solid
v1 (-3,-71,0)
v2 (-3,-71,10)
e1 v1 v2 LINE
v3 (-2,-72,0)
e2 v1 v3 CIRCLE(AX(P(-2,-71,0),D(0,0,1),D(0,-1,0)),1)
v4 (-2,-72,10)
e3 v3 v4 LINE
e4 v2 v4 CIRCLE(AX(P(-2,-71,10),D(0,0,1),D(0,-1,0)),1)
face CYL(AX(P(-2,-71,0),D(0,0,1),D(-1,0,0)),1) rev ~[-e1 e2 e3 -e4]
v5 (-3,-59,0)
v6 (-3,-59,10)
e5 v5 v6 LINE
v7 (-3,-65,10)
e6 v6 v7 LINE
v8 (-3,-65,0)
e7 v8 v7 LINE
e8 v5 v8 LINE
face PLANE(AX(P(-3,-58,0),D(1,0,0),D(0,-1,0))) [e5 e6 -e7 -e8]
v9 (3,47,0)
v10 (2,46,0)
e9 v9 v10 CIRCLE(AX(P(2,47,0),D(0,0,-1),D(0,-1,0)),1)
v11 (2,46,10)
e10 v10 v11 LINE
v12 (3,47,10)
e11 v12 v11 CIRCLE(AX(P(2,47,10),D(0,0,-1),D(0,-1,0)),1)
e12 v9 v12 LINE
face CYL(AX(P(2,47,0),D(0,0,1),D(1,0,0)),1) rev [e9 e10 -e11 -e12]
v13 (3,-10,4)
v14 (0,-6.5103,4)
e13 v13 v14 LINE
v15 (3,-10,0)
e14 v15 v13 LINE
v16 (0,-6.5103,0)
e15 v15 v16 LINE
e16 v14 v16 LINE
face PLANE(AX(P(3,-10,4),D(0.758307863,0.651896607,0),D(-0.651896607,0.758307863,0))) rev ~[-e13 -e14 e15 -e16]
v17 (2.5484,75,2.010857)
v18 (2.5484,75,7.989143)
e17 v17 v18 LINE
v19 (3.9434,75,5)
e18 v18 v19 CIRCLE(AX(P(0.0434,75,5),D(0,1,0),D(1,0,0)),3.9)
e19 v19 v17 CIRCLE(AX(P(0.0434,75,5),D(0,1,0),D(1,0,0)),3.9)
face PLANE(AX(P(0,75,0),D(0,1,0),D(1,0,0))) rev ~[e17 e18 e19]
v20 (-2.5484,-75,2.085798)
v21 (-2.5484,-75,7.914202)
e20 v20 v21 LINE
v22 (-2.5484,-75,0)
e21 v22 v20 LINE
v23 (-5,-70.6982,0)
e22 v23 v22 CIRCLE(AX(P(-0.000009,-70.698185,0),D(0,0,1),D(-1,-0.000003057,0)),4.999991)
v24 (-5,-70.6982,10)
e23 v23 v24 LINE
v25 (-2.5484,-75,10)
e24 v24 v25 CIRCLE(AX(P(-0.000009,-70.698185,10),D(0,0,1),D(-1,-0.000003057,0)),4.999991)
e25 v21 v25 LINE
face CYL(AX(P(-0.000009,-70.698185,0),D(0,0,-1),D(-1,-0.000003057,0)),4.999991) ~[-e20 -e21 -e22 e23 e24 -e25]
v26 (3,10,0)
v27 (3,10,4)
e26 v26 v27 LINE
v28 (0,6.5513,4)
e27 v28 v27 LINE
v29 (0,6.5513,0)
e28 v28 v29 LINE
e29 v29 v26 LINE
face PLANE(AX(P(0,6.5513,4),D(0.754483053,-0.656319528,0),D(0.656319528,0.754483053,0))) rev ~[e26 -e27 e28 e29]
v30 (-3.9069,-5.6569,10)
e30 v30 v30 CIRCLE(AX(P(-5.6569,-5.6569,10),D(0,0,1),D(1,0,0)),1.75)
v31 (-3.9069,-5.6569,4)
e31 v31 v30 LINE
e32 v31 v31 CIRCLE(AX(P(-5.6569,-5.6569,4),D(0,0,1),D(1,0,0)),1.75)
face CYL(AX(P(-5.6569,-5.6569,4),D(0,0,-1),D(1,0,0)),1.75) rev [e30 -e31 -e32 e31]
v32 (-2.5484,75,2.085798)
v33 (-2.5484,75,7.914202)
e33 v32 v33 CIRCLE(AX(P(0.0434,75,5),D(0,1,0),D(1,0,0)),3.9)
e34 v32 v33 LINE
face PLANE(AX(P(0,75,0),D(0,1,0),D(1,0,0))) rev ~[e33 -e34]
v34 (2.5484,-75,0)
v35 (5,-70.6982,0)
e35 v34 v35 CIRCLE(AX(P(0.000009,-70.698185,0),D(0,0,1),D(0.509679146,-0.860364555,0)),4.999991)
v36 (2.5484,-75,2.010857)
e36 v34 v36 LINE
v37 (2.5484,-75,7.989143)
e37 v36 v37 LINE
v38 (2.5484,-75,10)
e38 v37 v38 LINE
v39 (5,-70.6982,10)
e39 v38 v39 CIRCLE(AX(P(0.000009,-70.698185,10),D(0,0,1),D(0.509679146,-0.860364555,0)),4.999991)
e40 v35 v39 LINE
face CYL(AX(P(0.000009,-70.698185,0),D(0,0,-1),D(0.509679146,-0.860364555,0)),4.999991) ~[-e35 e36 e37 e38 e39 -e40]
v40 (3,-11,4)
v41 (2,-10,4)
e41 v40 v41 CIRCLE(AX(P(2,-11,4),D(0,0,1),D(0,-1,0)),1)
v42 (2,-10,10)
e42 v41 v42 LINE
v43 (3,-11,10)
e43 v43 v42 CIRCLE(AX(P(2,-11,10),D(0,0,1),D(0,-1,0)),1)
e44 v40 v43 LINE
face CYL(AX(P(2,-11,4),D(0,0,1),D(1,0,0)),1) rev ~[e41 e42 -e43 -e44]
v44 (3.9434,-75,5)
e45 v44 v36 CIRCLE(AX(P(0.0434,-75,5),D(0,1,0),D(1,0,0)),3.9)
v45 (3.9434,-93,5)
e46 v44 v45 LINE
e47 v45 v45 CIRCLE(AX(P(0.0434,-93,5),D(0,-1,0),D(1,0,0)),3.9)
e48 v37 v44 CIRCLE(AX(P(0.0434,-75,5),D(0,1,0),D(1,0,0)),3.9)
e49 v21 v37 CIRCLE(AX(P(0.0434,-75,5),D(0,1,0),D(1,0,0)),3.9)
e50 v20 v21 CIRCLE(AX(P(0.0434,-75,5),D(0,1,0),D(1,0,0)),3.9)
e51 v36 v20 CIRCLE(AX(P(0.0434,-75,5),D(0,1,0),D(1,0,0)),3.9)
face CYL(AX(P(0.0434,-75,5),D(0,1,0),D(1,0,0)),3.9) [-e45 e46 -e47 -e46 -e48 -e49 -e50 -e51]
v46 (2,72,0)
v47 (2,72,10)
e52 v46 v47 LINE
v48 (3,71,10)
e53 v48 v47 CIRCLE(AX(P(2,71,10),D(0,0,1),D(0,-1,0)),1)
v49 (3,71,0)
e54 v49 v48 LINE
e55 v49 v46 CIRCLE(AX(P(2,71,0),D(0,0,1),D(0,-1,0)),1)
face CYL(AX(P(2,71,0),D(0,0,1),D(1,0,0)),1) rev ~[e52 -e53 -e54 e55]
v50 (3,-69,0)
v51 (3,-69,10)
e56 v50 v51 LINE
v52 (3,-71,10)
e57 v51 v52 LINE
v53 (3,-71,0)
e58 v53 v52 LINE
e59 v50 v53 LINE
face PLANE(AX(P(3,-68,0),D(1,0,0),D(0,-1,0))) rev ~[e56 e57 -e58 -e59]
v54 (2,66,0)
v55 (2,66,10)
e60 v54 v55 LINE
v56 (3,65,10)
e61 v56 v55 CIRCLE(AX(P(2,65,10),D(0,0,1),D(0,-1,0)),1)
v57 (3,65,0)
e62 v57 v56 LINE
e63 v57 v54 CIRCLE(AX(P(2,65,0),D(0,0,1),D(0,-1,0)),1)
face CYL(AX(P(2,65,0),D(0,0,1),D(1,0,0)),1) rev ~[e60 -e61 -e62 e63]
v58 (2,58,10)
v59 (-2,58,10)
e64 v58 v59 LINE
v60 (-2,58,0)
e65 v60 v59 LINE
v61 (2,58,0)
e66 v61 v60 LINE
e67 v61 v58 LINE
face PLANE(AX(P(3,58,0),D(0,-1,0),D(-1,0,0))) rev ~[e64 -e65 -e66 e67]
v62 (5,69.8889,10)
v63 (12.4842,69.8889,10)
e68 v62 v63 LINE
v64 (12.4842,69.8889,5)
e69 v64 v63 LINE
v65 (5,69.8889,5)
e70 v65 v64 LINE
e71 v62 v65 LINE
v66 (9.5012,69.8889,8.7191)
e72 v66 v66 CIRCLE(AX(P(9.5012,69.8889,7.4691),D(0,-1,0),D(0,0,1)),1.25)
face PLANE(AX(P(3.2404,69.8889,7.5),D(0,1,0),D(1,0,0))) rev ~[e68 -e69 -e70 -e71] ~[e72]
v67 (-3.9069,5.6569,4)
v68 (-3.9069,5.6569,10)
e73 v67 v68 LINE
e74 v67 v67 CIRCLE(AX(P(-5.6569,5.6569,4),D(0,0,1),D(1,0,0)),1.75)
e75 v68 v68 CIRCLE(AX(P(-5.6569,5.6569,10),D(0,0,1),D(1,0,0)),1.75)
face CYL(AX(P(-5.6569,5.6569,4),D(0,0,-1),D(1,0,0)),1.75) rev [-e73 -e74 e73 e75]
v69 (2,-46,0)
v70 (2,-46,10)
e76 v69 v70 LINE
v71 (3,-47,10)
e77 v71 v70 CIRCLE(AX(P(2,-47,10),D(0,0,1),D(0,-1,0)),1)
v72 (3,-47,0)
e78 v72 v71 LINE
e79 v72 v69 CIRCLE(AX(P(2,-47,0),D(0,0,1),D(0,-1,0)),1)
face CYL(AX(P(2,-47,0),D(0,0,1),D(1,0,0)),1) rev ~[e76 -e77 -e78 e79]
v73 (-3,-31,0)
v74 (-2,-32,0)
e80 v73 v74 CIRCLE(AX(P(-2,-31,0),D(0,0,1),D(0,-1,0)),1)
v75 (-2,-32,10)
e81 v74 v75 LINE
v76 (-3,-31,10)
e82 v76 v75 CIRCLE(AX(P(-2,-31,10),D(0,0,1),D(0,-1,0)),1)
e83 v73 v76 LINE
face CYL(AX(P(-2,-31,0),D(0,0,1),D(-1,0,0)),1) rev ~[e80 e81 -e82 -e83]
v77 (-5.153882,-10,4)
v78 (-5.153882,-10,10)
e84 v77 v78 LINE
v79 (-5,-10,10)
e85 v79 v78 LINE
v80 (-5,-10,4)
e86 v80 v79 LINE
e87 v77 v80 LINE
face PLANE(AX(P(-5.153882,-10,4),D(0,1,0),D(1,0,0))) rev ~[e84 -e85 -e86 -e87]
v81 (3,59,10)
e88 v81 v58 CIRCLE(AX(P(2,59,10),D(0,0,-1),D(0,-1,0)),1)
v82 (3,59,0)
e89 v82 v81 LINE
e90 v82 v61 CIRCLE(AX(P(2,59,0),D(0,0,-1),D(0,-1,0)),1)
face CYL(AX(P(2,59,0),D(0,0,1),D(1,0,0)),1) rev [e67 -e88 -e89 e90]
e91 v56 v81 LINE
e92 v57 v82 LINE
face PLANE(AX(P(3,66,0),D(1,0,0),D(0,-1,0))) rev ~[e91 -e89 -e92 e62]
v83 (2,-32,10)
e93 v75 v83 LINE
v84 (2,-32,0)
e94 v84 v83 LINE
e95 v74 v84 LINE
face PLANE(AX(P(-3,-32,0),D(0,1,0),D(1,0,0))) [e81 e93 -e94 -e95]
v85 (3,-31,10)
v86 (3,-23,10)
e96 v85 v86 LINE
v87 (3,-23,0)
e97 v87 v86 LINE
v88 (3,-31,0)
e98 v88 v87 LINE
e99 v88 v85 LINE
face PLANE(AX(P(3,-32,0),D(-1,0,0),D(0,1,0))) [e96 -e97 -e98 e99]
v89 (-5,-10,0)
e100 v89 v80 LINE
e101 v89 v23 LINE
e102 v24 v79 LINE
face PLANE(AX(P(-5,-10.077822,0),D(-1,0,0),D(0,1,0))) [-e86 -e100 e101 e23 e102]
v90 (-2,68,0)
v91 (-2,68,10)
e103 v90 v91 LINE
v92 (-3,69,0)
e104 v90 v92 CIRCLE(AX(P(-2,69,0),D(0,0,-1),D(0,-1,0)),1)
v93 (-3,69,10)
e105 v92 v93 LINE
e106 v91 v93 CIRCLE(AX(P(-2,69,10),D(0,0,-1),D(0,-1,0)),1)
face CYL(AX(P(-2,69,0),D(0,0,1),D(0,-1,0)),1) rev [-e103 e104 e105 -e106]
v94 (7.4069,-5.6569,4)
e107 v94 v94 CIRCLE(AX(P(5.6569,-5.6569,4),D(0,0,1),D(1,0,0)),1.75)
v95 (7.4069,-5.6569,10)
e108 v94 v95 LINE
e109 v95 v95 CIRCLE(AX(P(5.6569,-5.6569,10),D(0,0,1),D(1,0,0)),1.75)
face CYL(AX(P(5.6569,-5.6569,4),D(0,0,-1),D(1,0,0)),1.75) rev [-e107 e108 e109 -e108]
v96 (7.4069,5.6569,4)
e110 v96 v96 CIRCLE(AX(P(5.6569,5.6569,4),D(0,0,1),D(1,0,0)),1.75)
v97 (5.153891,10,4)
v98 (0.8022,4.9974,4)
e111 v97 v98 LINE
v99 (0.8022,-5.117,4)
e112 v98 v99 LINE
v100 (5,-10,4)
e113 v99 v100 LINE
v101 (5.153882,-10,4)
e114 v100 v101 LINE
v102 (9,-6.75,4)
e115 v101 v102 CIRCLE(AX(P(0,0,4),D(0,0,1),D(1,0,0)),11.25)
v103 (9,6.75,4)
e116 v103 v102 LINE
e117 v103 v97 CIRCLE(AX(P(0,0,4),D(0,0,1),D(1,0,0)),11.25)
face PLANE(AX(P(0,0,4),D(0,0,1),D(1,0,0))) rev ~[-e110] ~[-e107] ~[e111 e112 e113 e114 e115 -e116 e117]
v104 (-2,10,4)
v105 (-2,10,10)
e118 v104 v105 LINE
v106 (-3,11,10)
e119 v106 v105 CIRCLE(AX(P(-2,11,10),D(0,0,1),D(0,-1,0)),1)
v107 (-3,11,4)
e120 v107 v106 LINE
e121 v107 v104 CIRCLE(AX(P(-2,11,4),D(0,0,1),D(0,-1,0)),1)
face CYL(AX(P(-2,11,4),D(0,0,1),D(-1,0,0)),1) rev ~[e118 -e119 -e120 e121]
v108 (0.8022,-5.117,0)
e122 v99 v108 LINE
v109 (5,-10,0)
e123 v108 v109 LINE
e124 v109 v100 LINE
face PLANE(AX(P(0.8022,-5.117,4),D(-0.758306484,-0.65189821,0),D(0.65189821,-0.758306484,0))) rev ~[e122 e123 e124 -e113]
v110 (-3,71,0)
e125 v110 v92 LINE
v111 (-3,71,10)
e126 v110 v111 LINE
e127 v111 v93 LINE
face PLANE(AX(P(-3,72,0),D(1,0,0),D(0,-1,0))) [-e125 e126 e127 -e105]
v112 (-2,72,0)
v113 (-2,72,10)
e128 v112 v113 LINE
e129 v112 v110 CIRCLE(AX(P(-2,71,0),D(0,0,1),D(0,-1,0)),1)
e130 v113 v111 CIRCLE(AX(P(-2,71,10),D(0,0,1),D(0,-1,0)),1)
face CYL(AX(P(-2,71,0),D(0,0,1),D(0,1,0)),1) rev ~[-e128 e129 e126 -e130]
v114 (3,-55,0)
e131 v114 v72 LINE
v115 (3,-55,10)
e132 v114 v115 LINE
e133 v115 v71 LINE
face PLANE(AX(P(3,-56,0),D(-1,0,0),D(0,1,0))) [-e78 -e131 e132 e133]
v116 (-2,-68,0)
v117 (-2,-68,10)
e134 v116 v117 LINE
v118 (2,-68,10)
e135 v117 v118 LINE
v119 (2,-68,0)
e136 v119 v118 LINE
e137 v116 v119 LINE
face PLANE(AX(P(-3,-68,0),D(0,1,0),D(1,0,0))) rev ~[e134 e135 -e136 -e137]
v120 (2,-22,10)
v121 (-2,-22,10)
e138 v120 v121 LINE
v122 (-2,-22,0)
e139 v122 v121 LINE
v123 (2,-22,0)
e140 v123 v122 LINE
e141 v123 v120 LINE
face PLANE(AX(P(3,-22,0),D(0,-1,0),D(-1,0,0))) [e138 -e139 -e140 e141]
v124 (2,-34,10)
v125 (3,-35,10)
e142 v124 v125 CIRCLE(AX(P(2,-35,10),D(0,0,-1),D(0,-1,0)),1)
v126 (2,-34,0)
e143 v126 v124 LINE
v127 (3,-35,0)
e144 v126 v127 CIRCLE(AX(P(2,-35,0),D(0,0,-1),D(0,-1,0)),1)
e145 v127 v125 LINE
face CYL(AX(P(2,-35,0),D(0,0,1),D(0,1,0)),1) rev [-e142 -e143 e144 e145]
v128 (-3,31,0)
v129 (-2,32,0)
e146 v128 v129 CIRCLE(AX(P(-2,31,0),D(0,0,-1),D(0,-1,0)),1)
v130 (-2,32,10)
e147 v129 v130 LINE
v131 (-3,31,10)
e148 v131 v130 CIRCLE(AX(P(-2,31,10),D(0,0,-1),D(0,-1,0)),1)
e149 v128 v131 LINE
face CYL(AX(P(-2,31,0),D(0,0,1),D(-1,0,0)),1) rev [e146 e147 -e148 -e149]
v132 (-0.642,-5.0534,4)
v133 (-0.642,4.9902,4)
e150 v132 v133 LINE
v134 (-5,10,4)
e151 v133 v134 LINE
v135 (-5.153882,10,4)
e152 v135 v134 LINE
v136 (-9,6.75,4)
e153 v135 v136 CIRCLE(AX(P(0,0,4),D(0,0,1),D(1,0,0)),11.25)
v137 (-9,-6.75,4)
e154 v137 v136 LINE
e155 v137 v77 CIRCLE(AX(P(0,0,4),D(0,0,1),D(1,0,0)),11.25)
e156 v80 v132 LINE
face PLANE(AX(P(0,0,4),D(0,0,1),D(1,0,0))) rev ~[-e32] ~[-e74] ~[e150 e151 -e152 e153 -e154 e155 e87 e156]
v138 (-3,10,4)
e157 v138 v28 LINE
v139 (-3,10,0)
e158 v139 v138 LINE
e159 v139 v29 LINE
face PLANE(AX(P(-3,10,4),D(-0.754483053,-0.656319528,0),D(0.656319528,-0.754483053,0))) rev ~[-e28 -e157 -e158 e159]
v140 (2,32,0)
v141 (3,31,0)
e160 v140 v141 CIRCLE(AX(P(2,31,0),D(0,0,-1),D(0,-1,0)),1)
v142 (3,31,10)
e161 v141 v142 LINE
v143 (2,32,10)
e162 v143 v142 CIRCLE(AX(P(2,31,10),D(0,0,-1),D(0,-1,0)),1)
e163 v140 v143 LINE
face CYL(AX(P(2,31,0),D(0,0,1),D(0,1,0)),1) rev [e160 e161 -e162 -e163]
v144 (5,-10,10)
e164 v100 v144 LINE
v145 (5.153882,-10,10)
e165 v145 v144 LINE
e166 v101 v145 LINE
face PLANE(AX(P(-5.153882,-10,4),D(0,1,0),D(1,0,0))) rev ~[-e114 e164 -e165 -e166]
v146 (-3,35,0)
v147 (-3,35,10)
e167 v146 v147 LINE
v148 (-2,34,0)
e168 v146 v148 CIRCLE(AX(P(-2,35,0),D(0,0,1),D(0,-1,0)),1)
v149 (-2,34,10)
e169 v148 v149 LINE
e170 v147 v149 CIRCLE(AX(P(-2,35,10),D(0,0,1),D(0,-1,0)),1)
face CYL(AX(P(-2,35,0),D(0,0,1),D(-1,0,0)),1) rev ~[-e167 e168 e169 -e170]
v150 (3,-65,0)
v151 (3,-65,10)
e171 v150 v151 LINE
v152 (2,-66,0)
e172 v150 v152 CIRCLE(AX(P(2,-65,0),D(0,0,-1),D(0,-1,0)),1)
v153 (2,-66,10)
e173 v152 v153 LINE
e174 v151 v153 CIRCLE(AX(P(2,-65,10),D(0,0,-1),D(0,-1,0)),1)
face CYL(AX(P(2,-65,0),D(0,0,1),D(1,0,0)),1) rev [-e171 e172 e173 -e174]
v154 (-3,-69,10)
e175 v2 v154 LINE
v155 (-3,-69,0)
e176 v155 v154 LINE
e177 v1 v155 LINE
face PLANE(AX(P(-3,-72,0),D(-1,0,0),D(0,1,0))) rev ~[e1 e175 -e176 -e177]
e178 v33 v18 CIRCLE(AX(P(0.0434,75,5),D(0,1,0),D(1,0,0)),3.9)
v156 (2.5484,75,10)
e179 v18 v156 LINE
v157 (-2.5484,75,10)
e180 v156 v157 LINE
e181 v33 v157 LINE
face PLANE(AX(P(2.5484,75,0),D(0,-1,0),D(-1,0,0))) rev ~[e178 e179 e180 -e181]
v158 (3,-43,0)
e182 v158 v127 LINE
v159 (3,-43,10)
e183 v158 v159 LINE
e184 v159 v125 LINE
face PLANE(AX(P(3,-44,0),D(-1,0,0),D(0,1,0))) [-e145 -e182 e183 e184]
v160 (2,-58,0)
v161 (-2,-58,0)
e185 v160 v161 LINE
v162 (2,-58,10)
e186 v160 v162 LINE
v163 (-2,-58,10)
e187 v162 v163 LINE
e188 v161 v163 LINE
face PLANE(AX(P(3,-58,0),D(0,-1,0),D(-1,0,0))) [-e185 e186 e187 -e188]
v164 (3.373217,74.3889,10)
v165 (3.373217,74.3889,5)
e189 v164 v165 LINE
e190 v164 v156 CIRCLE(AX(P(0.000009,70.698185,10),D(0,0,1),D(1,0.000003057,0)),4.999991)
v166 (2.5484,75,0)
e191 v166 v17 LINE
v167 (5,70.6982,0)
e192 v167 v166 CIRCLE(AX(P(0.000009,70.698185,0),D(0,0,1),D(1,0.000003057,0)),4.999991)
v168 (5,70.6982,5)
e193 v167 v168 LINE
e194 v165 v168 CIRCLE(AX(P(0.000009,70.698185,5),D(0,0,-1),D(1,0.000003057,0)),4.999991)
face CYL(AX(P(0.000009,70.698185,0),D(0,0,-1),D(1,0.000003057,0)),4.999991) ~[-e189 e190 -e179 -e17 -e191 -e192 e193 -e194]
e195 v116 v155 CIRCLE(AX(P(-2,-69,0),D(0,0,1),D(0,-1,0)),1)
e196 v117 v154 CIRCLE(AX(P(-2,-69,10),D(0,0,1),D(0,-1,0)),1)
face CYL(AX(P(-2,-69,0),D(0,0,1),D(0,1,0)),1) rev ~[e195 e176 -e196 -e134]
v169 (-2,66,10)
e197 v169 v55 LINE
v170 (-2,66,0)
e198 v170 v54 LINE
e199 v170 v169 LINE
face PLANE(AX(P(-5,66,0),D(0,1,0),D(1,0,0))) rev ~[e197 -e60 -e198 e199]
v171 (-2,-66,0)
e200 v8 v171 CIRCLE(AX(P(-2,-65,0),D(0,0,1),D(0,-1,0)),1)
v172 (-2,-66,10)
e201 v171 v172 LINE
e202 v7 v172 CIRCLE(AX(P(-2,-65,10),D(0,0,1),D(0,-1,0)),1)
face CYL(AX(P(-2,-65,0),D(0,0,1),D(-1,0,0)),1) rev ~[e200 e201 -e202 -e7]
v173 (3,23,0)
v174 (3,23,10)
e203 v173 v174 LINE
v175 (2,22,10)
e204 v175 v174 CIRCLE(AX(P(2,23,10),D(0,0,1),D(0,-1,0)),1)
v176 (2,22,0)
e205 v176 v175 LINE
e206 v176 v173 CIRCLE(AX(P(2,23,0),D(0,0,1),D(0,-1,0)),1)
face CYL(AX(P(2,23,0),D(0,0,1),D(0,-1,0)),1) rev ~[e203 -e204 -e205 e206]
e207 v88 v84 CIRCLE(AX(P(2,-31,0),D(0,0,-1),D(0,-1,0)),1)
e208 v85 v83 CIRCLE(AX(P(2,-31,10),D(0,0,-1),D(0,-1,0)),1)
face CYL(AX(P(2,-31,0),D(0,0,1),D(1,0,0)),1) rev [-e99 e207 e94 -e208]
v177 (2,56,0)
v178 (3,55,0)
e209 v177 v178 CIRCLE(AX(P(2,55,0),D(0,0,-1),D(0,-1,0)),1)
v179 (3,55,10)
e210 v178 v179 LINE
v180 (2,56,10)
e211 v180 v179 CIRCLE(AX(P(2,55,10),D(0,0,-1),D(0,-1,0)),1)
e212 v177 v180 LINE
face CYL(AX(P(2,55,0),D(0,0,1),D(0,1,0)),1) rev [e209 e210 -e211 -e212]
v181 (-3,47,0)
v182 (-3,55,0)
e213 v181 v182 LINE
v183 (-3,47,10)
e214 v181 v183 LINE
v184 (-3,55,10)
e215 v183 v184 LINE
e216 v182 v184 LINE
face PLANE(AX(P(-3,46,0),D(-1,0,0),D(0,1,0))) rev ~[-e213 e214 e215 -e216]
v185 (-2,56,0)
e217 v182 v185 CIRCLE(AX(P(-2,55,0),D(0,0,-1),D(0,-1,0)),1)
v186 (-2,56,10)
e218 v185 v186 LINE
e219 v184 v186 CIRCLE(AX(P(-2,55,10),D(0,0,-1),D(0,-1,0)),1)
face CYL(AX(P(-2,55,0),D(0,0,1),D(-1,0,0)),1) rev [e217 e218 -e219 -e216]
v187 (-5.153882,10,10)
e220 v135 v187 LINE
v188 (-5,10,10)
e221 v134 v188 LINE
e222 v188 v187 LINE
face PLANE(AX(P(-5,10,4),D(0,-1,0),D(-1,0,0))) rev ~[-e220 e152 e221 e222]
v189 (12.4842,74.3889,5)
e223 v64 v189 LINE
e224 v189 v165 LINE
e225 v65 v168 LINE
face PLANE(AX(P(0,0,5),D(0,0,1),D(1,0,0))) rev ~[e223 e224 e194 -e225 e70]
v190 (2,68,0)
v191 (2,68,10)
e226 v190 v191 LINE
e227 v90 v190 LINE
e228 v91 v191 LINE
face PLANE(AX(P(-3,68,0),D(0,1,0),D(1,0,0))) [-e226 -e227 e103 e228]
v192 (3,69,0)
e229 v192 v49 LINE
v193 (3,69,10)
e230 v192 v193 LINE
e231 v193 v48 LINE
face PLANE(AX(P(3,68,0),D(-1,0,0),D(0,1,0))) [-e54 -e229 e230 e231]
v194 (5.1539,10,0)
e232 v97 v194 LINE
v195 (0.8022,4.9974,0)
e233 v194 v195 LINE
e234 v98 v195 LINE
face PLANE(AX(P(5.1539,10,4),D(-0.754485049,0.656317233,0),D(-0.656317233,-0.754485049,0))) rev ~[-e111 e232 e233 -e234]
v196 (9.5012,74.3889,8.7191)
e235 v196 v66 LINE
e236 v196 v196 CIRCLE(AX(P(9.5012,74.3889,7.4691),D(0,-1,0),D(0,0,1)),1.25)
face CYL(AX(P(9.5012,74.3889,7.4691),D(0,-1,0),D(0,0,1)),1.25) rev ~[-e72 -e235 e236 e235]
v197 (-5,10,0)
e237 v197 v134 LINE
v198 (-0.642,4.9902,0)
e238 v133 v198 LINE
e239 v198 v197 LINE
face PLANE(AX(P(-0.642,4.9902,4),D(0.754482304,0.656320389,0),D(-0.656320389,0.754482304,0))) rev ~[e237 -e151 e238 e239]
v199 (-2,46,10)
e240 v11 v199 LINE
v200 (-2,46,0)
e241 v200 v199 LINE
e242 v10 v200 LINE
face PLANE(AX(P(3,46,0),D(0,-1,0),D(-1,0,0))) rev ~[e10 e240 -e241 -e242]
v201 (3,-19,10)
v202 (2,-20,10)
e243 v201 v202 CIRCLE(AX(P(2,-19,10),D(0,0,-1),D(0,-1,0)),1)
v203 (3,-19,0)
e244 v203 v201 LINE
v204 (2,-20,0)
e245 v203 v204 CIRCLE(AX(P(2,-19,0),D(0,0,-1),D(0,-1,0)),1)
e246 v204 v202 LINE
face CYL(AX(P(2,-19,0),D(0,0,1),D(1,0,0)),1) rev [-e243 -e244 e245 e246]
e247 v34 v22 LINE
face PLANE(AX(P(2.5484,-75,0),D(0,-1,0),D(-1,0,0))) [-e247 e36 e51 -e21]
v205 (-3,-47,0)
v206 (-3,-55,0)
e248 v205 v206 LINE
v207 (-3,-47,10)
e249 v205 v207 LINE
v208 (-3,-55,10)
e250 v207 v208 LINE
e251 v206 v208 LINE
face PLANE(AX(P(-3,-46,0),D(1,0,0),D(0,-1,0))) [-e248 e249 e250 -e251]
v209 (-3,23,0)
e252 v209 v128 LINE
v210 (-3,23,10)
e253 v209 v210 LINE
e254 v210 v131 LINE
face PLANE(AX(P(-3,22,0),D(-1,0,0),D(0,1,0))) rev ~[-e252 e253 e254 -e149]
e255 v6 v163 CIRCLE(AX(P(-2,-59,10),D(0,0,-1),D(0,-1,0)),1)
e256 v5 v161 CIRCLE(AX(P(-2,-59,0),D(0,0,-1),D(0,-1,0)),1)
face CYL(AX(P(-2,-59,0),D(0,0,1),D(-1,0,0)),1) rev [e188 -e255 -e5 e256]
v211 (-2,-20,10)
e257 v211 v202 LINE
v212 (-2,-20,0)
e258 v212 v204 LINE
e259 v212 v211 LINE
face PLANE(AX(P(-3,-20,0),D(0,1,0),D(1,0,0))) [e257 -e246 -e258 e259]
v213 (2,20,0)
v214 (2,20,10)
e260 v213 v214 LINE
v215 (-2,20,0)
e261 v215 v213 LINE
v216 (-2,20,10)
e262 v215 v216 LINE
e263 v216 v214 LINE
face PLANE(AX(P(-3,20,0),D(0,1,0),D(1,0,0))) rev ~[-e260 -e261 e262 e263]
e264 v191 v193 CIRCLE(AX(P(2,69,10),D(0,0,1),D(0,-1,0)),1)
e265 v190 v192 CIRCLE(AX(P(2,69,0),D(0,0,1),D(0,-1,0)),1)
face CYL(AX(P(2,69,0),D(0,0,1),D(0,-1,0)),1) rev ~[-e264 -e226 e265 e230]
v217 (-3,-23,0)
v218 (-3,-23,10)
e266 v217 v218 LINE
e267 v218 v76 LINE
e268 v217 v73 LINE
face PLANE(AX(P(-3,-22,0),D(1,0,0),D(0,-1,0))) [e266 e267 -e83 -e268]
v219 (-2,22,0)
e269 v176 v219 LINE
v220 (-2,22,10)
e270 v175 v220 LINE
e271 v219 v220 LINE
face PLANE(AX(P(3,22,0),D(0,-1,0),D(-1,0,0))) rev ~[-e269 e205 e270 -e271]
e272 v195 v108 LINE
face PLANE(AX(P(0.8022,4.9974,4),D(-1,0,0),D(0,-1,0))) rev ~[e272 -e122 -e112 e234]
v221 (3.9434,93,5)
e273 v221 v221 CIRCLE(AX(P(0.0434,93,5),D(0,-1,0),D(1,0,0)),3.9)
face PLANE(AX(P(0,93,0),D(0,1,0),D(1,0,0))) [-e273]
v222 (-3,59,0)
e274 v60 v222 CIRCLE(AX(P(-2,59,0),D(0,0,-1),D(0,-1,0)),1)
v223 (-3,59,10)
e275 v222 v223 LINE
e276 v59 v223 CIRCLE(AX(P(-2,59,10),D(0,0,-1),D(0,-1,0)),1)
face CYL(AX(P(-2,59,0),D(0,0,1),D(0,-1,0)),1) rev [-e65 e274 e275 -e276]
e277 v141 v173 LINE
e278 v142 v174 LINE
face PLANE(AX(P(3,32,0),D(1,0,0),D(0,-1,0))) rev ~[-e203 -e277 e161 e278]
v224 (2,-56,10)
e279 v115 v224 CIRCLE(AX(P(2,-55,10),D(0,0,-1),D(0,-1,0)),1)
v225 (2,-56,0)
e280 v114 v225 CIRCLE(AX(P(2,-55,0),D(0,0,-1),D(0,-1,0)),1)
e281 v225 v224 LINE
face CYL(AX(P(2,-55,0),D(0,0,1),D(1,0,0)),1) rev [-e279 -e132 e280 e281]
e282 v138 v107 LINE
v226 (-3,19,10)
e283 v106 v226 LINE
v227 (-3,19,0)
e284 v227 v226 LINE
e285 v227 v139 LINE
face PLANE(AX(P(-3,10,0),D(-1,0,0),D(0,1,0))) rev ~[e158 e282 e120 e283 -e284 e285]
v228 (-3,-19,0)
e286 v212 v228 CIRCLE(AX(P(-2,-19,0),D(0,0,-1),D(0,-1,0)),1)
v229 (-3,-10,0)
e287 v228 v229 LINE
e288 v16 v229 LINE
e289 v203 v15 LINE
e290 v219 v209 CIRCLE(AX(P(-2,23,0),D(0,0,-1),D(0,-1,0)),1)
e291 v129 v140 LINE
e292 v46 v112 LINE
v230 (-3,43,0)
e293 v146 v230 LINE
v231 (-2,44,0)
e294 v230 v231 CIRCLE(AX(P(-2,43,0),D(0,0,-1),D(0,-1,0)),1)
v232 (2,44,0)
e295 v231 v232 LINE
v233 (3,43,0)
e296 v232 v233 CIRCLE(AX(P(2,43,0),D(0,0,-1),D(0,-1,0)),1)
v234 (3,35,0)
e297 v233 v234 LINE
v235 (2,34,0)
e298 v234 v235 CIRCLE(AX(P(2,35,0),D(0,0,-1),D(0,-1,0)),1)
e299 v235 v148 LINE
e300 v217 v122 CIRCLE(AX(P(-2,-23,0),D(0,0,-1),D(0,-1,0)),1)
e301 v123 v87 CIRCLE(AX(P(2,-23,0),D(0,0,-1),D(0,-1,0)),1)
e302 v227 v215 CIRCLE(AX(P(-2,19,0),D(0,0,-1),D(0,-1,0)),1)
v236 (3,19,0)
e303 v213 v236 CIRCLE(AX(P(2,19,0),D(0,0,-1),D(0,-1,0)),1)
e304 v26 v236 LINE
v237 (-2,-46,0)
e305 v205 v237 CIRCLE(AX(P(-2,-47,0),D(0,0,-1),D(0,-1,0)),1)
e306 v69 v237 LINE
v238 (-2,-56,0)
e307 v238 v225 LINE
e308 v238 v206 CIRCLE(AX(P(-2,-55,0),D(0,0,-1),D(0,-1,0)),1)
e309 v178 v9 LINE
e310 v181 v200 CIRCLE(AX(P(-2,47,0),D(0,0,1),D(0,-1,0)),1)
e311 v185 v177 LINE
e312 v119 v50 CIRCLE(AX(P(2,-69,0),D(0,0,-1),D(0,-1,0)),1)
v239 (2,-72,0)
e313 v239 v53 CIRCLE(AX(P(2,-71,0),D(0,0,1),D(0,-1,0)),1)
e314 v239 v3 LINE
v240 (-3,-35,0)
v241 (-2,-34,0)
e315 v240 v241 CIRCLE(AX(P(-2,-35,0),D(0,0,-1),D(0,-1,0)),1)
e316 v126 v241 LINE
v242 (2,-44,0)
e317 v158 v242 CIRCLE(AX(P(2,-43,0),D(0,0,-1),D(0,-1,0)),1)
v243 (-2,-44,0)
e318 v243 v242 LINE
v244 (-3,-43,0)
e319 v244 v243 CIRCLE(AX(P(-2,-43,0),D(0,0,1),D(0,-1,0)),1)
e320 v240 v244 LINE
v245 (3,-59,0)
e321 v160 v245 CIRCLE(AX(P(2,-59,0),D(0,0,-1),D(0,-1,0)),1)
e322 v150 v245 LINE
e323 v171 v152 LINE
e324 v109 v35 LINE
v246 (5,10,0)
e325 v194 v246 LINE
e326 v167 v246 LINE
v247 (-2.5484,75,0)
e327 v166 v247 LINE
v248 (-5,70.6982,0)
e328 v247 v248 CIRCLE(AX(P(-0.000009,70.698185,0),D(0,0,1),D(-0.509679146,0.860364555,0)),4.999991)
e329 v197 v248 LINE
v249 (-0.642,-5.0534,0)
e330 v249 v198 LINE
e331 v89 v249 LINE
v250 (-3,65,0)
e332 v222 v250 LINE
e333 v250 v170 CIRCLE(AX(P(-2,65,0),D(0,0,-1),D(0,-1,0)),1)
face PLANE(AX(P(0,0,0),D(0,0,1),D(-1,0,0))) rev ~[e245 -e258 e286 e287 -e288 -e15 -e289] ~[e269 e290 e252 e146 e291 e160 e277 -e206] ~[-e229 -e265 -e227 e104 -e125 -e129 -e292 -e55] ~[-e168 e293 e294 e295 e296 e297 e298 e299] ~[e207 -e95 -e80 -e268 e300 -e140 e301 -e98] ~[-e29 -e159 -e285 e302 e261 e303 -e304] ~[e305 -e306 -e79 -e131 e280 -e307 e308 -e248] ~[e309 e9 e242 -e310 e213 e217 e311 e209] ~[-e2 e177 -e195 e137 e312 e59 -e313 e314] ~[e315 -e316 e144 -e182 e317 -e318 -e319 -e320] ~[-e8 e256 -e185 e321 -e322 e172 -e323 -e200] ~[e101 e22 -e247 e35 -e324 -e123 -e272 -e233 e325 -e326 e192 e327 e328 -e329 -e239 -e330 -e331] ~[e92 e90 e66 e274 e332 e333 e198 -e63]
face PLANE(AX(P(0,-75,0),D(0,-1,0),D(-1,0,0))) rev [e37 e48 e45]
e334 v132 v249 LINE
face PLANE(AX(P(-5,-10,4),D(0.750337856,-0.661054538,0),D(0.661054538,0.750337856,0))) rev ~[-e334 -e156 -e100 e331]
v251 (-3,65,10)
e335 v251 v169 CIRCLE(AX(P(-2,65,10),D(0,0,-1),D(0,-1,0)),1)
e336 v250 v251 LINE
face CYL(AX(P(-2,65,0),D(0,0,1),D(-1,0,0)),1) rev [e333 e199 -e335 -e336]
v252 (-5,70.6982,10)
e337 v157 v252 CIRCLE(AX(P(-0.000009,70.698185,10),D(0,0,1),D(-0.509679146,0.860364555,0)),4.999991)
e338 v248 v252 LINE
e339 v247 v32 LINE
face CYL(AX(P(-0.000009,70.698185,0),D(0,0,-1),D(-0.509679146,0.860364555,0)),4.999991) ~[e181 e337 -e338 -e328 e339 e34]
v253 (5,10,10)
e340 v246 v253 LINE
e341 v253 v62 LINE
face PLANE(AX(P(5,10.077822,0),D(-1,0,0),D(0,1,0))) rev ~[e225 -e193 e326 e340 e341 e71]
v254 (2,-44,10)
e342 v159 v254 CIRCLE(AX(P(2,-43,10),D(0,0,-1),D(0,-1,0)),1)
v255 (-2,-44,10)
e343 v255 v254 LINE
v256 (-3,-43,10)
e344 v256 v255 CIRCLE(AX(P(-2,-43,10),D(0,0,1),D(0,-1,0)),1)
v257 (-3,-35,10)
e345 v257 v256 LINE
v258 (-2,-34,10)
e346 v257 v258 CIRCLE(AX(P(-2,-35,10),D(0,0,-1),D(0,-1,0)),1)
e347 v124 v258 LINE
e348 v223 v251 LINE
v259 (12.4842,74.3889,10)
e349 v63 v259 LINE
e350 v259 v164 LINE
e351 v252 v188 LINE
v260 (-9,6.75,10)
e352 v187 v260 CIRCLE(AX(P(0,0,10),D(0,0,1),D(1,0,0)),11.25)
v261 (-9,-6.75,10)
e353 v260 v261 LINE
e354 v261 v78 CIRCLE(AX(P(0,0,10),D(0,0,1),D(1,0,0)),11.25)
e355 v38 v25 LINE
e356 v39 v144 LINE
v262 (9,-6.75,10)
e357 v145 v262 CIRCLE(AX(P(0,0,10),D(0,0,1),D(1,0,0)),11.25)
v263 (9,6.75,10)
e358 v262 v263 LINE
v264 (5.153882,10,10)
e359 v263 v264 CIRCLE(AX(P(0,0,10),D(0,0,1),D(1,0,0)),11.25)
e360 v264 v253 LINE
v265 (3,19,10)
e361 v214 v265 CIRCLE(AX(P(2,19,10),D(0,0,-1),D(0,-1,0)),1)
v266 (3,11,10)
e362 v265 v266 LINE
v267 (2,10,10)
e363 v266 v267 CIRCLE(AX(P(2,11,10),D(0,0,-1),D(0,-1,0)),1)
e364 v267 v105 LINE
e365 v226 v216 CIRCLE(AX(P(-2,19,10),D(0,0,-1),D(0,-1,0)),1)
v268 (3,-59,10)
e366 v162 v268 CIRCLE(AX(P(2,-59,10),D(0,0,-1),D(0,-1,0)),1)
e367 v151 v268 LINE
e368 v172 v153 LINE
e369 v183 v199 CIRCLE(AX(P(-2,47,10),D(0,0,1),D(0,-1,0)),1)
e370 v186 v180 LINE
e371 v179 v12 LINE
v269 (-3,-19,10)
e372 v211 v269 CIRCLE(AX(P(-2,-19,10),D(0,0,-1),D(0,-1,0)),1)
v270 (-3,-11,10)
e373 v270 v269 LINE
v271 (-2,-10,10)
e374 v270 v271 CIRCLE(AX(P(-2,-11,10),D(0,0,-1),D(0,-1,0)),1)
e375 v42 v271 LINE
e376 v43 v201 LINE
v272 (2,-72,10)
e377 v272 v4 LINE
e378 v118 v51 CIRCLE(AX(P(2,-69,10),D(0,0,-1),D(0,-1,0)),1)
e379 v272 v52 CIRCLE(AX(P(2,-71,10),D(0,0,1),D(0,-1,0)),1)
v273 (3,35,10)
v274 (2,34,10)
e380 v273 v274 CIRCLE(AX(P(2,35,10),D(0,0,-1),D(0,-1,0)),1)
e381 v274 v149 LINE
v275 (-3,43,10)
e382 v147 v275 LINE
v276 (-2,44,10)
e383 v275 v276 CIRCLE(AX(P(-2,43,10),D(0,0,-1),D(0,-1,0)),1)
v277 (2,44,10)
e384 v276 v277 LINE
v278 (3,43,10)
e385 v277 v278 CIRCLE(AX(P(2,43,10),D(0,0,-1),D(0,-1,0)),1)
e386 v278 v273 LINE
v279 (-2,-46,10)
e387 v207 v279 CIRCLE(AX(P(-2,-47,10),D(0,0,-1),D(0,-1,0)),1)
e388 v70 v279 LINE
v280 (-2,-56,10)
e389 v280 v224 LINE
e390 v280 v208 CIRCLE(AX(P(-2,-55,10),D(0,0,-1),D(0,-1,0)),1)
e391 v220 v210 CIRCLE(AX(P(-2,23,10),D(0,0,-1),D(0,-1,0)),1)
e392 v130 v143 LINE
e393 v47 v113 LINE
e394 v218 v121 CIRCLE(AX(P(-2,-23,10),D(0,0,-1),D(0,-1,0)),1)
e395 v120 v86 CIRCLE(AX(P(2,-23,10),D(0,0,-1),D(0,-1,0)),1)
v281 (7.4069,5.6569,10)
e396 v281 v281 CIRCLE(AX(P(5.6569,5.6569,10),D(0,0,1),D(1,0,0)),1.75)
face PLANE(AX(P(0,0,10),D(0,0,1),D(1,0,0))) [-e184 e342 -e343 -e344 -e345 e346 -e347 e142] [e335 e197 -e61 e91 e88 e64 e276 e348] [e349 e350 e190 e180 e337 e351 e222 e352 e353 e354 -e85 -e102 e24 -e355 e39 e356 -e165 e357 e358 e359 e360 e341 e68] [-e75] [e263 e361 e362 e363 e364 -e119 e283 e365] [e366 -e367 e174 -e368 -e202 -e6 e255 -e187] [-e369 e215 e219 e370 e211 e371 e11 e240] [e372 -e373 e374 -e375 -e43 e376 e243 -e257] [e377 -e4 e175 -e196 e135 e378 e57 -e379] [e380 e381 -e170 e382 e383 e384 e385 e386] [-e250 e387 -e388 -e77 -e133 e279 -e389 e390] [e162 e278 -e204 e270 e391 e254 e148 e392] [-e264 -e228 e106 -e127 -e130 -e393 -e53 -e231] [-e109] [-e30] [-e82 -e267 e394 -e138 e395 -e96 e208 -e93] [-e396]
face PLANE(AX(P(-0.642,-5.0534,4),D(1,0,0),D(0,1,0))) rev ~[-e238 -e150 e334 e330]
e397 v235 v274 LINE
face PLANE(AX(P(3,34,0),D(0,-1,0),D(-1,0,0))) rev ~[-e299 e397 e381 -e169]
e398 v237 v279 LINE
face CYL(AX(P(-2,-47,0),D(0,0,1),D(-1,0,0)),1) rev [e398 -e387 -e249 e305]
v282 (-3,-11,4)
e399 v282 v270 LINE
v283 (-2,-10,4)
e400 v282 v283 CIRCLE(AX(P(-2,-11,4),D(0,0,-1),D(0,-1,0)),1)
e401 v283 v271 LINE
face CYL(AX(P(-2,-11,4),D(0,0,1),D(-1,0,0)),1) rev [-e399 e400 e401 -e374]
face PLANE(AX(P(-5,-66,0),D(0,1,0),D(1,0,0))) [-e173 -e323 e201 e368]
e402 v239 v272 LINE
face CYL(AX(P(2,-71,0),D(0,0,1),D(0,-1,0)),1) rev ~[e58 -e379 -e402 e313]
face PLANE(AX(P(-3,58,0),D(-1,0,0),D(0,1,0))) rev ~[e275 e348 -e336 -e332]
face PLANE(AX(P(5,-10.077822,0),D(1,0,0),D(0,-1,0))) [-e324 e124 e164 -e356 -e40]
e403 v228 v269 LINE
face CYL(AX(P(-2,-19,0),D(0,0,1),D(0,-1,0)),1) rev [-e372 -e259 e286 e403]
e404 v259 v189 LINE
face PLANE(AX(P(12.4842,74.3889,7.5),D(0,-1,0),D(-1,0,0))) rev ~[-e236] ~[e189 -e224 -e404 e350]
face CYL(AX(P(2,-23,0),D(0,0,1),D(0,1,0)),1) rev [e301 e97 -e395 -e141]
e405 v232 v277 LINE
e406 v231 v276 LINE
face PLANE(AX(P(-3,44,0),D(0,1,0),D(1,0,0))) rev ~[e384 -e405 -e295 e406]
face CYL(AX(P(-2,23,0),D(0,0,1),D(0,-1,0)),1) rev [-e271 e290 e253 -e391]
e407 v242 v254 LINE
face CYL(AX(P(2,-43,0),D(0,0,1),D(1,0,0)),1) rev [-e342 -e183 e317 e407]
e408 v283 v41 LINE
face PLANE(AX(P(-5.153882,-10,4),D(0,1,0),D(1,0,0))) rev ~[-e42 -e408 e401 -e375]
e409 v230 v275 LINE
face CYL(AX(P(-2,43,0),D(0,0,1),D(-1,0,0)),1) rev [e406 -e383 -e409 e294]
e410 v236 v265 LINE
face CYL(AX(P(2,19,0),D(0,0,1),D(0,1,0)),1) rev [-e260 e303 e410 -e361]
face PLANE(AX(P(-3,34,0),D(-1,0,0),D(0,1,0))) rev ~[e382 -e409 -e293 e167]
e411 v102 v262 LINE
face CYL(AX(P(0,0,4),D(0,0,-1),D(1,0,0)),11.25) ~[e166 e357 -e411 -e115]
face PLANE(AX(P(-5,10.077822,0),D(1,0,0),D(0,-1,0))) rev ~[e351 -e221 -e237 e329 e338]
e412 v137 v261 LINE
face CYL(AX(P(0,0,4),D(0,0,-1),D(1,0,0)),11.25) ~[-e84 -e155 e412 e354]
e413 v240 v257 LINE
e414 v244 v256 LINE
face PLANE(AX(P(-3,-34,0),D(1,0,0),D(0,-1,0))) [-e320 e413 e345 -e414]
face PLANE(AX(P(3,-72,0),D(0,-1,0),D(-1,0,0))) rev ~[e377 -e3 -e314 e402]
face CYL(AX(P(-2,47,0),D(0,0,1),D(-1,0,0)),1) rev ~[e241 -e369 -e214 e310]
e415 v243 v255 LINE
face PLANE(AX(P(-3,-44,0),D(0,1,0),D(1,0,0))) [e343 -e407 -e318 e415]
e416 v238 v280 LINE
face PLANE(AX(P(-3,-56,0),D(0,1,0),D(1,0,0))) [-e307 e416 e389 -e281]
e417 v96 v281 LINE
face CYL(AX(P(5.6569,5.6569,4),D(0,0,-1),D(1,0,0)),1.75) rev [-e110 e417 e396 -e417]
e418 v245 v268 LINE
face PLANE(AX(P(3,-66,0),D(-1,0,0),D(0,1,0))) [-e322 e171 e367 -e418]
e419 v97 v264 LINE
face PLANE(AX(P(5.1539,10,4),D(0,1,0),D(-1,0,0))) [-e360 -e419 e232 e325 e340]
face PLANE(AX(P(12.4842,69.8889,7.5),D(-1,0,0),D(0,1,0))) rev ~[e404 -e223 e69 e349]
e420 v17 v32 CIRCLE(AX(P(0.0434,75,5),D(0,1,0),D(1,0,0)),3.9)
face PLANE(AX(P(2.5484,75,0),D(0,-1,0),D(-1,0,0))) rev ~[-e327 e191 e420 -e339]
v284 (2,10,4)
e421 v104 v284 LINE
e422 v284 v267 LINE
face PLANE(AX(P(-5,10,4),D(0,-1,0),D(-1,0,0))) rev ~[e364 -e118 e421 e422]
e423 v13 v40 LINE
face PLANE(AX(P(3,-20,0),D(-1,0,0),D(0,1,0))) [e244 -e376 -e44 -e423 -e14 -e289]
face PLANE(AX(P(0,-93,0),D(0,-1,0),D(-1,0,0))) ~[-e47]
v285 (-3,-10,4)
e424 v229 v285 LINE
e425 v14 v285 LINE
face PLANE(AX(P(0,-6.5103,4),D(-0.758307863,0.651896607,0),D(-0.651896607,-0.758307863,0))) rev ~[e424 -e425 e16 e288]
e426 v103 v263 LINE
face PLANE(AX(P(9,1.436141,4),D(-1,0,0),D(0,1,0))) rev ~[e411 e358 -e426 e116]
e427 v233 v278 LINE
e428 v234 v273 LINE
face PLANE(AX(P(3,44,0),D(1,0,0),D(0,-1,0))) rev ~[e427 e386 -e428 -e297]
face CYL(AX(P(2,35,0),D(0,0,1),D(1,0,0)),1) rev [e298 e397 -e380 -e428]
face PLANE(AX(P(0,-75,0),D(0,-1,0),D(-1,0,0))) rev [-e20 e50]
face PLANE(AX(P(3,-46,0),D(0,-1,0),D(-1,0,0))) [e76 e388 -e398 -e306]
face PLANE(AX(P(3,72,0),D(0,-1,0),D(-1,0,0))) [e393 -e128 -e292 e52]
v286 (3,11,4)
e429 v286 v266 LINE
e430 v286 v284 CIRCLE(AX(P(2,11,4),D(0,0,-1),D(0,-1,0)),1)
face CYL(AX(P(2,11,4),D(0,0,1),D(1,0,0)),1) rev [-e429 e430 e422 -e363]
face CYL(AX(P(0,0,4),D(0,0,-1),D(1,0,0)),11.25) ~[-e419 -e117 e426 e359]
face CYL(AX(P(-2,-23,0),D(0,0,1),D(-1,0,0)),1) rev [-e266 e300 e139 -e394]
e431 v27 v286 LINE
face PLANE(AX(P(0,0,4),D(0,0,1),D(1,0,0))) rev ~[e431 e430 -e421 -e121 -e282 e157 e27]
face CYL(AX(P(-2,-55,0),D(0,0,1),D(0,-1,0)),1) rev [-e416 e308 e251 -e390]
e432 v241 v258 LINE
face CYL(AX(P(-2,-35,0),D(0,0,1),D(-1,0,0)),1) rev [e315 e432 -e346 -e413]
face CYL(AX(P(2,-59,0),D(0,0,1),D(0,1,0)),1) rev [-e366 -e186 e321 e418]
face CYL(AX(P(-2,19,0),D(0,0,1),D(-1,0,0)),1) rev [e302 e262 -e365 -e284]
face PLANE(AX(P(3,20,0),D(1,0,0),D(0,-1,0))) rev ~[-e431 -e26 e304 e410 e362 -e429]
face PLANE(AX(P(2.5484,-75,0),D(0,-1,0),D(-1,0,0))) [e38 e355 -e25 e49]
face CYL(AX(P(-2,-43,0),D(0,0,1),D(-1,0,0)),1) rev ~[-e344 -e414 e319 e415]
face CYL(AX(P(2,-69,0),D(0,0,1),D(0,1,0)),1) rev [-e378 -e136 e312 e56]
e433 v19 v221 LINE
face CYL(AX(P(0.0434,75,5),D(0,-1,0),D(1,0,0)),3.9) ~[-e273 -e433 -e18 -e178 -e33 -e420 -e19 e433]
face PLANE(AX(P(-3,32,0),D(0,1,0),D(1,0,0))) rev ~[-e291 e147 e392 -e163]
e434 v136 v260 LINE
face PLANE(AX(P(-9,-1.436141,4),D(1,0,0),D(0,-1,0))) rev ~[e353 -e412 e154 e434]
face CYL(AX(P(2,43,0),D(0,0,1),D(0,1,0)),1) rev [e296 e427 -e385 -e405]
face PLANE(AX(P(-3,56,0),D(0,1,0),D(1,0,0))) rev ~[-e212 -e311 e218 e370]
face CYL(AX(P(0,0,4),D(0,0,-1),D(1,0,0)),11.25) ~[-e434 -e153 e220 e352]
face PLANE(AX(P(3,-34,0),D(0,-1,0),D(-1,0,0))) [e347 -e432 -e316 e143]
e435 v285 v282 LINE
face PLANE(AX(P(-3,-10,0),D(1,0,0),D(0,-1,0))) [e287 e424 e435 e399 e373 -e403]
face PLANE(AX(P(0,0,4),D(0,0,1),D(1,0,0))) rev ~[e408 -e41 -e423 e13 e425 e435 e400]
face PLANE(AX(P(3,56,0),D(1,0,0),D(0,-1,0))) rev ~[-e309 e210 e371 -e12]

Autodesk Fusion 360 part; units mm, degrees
sketch "Sketch1" plane through (0, 0, 0) normal (0, 0, 1) x (1, 0, 0)
  line L0 (-9, -10) -> (9, -10)
  line L1 (9, -10) -> (9, 10)
  line L2 (9, 10) -> (-9, 10)
  line L3 (-9, 10) -> (-9, -10)
  circle A0 centre (0, -8) radius 1.75
  circle A1 centre (5.6569, -5.6569) radius 1.75
  circle A2 centre (8, 0) radius 1.75
  circle A3 centre (5.6569, 5.6569) radius 1.75
  circle A4 centre (0, 8) radius 1.75
  circle A5 centre (-5.6569, 5.6569) radius 1.75
  circle A6 centre (-8, 0) radius 1.75
  circle A7 centre (-5.6569, -5.6569) radius 1.75
  line L4 (-5, -10) -> (-3, -10)
  line L5 (-3, -10) -> (-3, -66)
  line L6 (-3, -66) -> (-5, -66)
  line L7 (-5, -66) -> (-5, -10)
  line L8 (3, -10) -> (5, -10)
  line L9 (5, -10) -> (5, -66)
  line L10 (5, -66) -> (3, -66)
  line L11 (3, -66) -> (3, -10)
  line L12 (-3, -20) -> (3, -20)
  line L13 (3, -20) -> (3, -22)
  line L14 (3, -22) -> (-3, -22)
  line L15 (-3, -22) -> (-3, -20)
  line L16 (-3, -32) -> (3, -32)
  line L17 (3, -32) -> (3, -34)
  line L18 (3, -34) -> (-3, -34)
  line L19 (-3, -34) -> (-3, -32)
  line L20 (-3, -44) -> (3, -44)
  line L21 (3, -44) -> (3, -46)
  line L22 (3, -46) -> (-3, -46)
  line L23 (-3, -46) -> (-3, -44)
  line L24 (-3, -56) -> (3, -56)
  line L25 (3, -56) -> (3, -58)
  line L26 (3, -58) -> (-3, -58)
  line L27 (-3, -58) -> (-3, -56)
  line L28 (20, 0) -> (2.5, 0)
  line L29 (-3, 56) -> (3, 56)
  line L30 (3, 46) -> (-3, 46)
  line L31 (-3, 22) -> (-3, 20)
  line L32 (-5, 10) -> (-3, 10)
  line L33 (3, 58) -> (-3, 58)
  line L34 (-3, 34) -> (-3, 32)
  line L35 (3, 34) -> (-3, 34)
  line L36 (3, 66) -> (3, 10)
  line L37 (-3, 44) -> (3, 44)
  line L38 (-3, 46) -> (-3, 44)
  line L39 (3, 10) -> (5, 10)
  line L40 (-3, 66) -> (-5, 66)
  line L41 (5, 10) -> (5, 66)
  line L42 (-3, 32) -> (3, 32)
  line L43 (-5, 66) -> (-5, 10)
  line L44 (3, 56) -> (3, 58)
  line L45 (5, 66) -> (3, 66)
  line L46 (3, 22) -> (-3, 22)
  line L47 (3, 32) -> (3, 34)
  line L48 (-3, 58) -> (-3, 56)
  line L49 (3, 44) -> (3, 46)
  line L50 (-3, 10) -> (-3, 66)
  line L51 (-3, 20) -> (3, 20)
  line L52 (3, 20) -> (3, 22)
  circle A8 centre (0, 0) radius 11.25
  dimension "d1" = 9
  dimension "d2" = 18
  dimension "d3" = 20
  dimension "d4" = 10
  dimension "d5" = 3.5
  dimension "d6" = 8
  dimension "d7" = 9
  dimension "d9" = 360
  dimension "d10" = 2
  dimension "d11" = 2
  dimension "d12" = 6
  dimension "d13" = 3
  dimension "d14" = 56
  dimension "d15" = 56
  dimension "d16" = 10
  dimension "d17" = 2
  dimension "d18" = 10
  dimension "d19" = 2
  dimension "d20" = 10
  dimension "d21" = 2
  dimension "d22" = 10
  dimension "d23" = 2
  dimension "d29" = 22.5
extrude "Extrude1" add sketch "Sketch1" along normal blind 10 contours L0 L4 L5 L7 A8 | L5 L6 L7 L15 L19 L23 L27 A8 | L0 L8 L9 L11 A8 | L9 L10 L11 L13 L17 L21 L25 A8 | L5 L11 L12 L13 L14 L15 | L5 L11 L24 L25 L26 L27 | L5 L11 L16 L17 L18 L19 | L2 L32 L43 L50 A8 | L31 L34 L38 L40 L43 L48 L50 A8 | L5 L11 L20 L21 L22 L23 | L2 L36 L39 L41 A8 | L31 L36 L46 L50 L51 L52 | L36 L41 L44 L45 L47 L49 L52 A8 | L29 L33 L36 L44 L48 L50 | L34 L35 L36 L42 L47 L50 | L30 L36 L37 L38 L49 L50 makes body 1 at (-5, -47.3333, 3.3333) makes body 2 at (5, 28.6667, 3.3333)
extrude "Extrude2" add sketch "Sketch1" along normal blind 6 from surface at 4 contours L0 L1 L2 L3 A2 A6 L4 L8 L32 L39 A8 | L3 A6 | L1 A2 L28 | L1 A2 L28 | A0 | A4 picked at (-8.2184, 0.4897) picked at (7.1728, -0.0844) picked at (7.1728, 0.0844) bodies 1 2
sketch "Sketch2" plane through (0, 0, 10) normal (0, 0, 1) x (-1, 0, 0)
  line L0 (5, 10) -> (5, 66)
  line L1 (5, 66) -> (3, 66)
  line L2 (3, 66) -> (3, 58)
  line L3 (3, 58) -> (-3, 58)
  line L4 (-3, 58) -> (-3, 66)
  line L5 (-3, 66) -> (-5, 66)
  line L6 (-5, 66) -> (-5, 10)
  line L7 (-5, 10) -> (-5.1539, 10)
  arc A0 (-5.1539, 10) -> (-9, 6.75) centre (0, 0) ccw
  line L8 (-9, 6.75) -> (-9, -6.75)
  arc A1 (-9, -6.75) -> (-5.1539, -10) centre (0, 0) ccw
  line L9 (-5.1539, -10) -> (-5, -10)
  line L10 (-5, -10) -> (-5, -66)
  line L11 (-5, -66) -> (-3, -66)
  line L12 (-3, -66) -> (-3, -58)
  line L13 (-3, -58) -> (3, -58)
  line L14 (3, -58) -> (3, -66)
  line L15 (3, -66) -> (5, -66)
  line L16 (5, -66) -> (5, -10)
  line L17 (5, -10) -> (5.1539, -10)
  arc A2 (5.1539, -10) -> (9, -6.75) centre (0, 0) ccw
  line L18 (9, -6.75) -> (9, 6.75)
  arc A3 (9, 6.75) -> (5.1539, 10) centre (0, 0) ccw
  line L19 (5.1539, 10) -> (5, 10)
  line L20 (-3, -44) -> (-3, -34)
  line L21 (-3, -34) -> (3, -34)
  line L22 (3, -34) -> (3, -44)
  line L23 (3, -44) -> (-3, -44)
  line L24 (-3, -56) -> (-3, -46)
  line L25 (-3, -46) -> (3, -46)
  line L26 (3, -46) -> (3, -56)
  line L27 (3, -56) -> (-3, -56)
  line L28 (-3, -32) -> (-3, -22)
  line L29 (-3, -22) -> (3, -22)
  line L30 (3, -22) -> (3, -32)
  line L31 (3, -32) -> (-3, -32)
  circle A4 centre (5.6569, 5.6569) radius 1.75
  circle A5 centre (5.6569, -5.6569) radius 1.75
  circle A6 centre (-5.6569, -5.6569) radius 1.75
  circle A7 centre (-5.6569, 5.6569) radius 1.75
  line L32 (3, -10) -> (3, -20)
  line L33 (3, -20) -> (-3, -20)
  line L34 (-3, -20) -> (-3, -10)
  line L35 (-3, -10) -> (3, -10)
  line L36 (-3, 32) -> (3, 32)
  line L37 (3, 32) -> (3, 22)
  line L38 (3, 22) -> (-3, 22)
  line L39 (-3, 22) -> (-3, 32)
  line L40 (-3, 56) -> (3, 56)
  line L41 (3, 56) -> (3, 46)
  line L42 (3, 46) -> (-3, 46)
  line L43 (-3, 46) -> (-3, 56)
  line L44 (-3, 44) -> (3, 44)
  line L45 (3, 44) -> (3, 34)
  line L46 (3, 34) -> (-3, 34)
  line L47 (-3, 34) -> (-3, 44)
  line L48 (3, 10) -> (-3, 10)
  line L49 (-3, 10) -> (-3, 20)
  line L50 (-3, 20) -> (3, 20)
  line L51 (3, 20) -> (3, 10)
  line L52 (5, 10) -> (0.642, 5.0534)
  line L53 (0.642, 5.0534) -> (0.642, -4.9902)
  line L54 (0.642, -4.9902) -> (5, -10)
  line L55 (3, -10) -> (0, -6.5513)
  line L56 (0, -6.5513) -> (-3, -10)
  line L57 (-5.1539, -10) -> (-0.8022, -4.9974)
  line L58 (-0.8022, -4.9974) -> (-0.8022, 5.117)
  line L59 (-0.8022, 5.117) -> (-5, 10)
  line L60 (-3, 10) -> (0, 6.5103)
  line L61 (0, 6.5103) -> (3, 10)
  line L62 (5, 10) -> (3, 10)
  line L63 (-3, 10) -> (-5, 10)
  line L64 (-3, -10) -> (-5.1539, -10)
  line L65 (3, -10) -> (5, -10)
extrude "Extrude3" add sketch "Sketch2" against normal blind 4 from surface at -6 contours L9 L52 L53 L54 L55 L56 L57 L58 L59 L60 L61 L62 L63 L64 L65 bodies 1
sketch "Sketch3" plane through (0, 0, 0) normal (0, 0, 1) x (1, 0, 0)
  line L0 (-5, 66) -> (5, 66)
  line L1 (5, 66) -> (5, 70.6982)
  line L2 (2.5484, 75) -> (-2.5484, 75)
  line L3 (-5, 70.6982) -> (-5, 66)
  line L4 (-3, 68) -> (3, 68)
  line L5 (3, 68) -> (3, 72)
  line L6 (3, 72) -> (-3, 72)
  line L7 (-3, 72) -> (-3, 68)
  arc A0 (5, 70.6982) -> (2.5484, 75) centre (0, 70.6982) ccw
  arc A1 (-2.5484, 75) -> (-5, 70.6982) centre (0, 70.6982) ccw
  line L8 (20, 0) -> (2.5, 0)
  arc A2 (-5, -70.6982) -> (-2.5484, -75) centre (0, -70.6982) ccw
  line L9 (3, -68) -> (3, -72)
  line L10 (2.5484, -75) -> (-2.5484, -75)
  line L11 (-3, -68) -> (3, -68)
  line L12 (5, -66) -> (5, -70.6982)
  arc A3 (2.5484, -75) -> (5, -70.6982) centre (0, -70.6982) ccw
  line L13 (-5, -70.6982) -> (-5, -66)
  line L14 (-3, -72) -> (-3, -68)
  line L15 (3, -72) -> (-3, -72)
  line L16 (-5, -66) -> (5, -66)
  point P0 (-5, 66)
  point P1 (5, 66)
  point P2 (5, -66)
  point P3 (-5, -66)
  dimension "d33" = 9
  dimension "d34" = 4.6982
  dimension "d39" = 6
  dimension "d40" = 2
  dimension "d41" = 3
  dimension "d42" = 2
extrude "Extrude4" add sketch "Sketch3" along normal blind 10 bodies 1
fillet "Fillet1" radius 1 22 edges at (-3, 10, 7) (-3, 20, 5) (3, 10, 7) (3, 20, 5) (3, 22, 5) (3, 32, 5) (3, 34, 5) (-3, 32, 5) (-3, 34, 5) (-3, 22, 5) (-3, 46, 5) (-3, 44, 5) (3, 46, 5) (3, 44, 5) (-3, 56, 5) (3, 56, 5) (3, 58, 5) (-3, 58, 5) (3, 68, 5) (-3, 68, 5) (-3, 72, 5) (3, 72, 5) on bodies 1
fillet "Fillet1" radius 1 24 edges at (3, -10, 7) (-3, -10, 7) (3, -20, 5) (-3, -20, 5) (3, -22, 5) (3, -32, 5) (3, -34, 5) (-3, -22, 5) (-3, -32, 5) (-3, -34, 5) (-3, -44, 5) (3, -44, 5) (3, -46, 5) (-3, -58, 5) (3, -58, 5) (3, -66, 5) (-3, -66, 5) (3, -68, 5) (3, -72, 5) (-3, -72, 5) (-3, -68, 5) (-3, -56, 5) (3, -56, 5) (-3, -46, 5) on bodies 1
fillet "Fillet1" radius 1 2 edges at (3, 66, 5) (-3, 66, 5) on bodies 1
sketch "Sketch4" plane through (0, 0, 0) normal (0, 0, 1) x (1, 0, 0)
  line L0 (3.2404, 69.8889) -> (12.4842, 69.8889)
  line L1 (3.2404, 74.3889) -> (3.2404, 69.8889)
  line L2 (12.4842, 69.8889) -> (12.4842, 74.3889)
  line L3 (12.4842, 74.3889) -> (3.2404, 74.3889)
  dimension "d53" = 4.5
extrude "Extrude5" add sketch "Sketch4" along normal mid plane 5 from surface at 7.5 bodies 1
hole "Hole1" at (9.5012, 74.3889, 7.4691) direction (0, -1, 0) diameter 2.5 depth 6 tip angle 118 bodies 1
sketch "Sketch5" plane through (0, 0, 0) normal (0, 1, 0) x (1, 0, 0)
  circle A0 centre (0.0434, -5) radius 3.9
  line L0 (2.5484, 0) -> (2.5484, -10)
  line L1 (2.5484, 0) -> (-2.5484, 0)
  dimension "d61" = 2.505
  dimension "d62" = 5
  dimension "d63" = 7.8
extrude "Extrude6" add sketch "Sketch5" along normal blind 18 from surface at 75 bodies 1
mirror "Mirror2" about plane through (0, 0, 0) normal (0, 1, 0) of "Extrude6"
